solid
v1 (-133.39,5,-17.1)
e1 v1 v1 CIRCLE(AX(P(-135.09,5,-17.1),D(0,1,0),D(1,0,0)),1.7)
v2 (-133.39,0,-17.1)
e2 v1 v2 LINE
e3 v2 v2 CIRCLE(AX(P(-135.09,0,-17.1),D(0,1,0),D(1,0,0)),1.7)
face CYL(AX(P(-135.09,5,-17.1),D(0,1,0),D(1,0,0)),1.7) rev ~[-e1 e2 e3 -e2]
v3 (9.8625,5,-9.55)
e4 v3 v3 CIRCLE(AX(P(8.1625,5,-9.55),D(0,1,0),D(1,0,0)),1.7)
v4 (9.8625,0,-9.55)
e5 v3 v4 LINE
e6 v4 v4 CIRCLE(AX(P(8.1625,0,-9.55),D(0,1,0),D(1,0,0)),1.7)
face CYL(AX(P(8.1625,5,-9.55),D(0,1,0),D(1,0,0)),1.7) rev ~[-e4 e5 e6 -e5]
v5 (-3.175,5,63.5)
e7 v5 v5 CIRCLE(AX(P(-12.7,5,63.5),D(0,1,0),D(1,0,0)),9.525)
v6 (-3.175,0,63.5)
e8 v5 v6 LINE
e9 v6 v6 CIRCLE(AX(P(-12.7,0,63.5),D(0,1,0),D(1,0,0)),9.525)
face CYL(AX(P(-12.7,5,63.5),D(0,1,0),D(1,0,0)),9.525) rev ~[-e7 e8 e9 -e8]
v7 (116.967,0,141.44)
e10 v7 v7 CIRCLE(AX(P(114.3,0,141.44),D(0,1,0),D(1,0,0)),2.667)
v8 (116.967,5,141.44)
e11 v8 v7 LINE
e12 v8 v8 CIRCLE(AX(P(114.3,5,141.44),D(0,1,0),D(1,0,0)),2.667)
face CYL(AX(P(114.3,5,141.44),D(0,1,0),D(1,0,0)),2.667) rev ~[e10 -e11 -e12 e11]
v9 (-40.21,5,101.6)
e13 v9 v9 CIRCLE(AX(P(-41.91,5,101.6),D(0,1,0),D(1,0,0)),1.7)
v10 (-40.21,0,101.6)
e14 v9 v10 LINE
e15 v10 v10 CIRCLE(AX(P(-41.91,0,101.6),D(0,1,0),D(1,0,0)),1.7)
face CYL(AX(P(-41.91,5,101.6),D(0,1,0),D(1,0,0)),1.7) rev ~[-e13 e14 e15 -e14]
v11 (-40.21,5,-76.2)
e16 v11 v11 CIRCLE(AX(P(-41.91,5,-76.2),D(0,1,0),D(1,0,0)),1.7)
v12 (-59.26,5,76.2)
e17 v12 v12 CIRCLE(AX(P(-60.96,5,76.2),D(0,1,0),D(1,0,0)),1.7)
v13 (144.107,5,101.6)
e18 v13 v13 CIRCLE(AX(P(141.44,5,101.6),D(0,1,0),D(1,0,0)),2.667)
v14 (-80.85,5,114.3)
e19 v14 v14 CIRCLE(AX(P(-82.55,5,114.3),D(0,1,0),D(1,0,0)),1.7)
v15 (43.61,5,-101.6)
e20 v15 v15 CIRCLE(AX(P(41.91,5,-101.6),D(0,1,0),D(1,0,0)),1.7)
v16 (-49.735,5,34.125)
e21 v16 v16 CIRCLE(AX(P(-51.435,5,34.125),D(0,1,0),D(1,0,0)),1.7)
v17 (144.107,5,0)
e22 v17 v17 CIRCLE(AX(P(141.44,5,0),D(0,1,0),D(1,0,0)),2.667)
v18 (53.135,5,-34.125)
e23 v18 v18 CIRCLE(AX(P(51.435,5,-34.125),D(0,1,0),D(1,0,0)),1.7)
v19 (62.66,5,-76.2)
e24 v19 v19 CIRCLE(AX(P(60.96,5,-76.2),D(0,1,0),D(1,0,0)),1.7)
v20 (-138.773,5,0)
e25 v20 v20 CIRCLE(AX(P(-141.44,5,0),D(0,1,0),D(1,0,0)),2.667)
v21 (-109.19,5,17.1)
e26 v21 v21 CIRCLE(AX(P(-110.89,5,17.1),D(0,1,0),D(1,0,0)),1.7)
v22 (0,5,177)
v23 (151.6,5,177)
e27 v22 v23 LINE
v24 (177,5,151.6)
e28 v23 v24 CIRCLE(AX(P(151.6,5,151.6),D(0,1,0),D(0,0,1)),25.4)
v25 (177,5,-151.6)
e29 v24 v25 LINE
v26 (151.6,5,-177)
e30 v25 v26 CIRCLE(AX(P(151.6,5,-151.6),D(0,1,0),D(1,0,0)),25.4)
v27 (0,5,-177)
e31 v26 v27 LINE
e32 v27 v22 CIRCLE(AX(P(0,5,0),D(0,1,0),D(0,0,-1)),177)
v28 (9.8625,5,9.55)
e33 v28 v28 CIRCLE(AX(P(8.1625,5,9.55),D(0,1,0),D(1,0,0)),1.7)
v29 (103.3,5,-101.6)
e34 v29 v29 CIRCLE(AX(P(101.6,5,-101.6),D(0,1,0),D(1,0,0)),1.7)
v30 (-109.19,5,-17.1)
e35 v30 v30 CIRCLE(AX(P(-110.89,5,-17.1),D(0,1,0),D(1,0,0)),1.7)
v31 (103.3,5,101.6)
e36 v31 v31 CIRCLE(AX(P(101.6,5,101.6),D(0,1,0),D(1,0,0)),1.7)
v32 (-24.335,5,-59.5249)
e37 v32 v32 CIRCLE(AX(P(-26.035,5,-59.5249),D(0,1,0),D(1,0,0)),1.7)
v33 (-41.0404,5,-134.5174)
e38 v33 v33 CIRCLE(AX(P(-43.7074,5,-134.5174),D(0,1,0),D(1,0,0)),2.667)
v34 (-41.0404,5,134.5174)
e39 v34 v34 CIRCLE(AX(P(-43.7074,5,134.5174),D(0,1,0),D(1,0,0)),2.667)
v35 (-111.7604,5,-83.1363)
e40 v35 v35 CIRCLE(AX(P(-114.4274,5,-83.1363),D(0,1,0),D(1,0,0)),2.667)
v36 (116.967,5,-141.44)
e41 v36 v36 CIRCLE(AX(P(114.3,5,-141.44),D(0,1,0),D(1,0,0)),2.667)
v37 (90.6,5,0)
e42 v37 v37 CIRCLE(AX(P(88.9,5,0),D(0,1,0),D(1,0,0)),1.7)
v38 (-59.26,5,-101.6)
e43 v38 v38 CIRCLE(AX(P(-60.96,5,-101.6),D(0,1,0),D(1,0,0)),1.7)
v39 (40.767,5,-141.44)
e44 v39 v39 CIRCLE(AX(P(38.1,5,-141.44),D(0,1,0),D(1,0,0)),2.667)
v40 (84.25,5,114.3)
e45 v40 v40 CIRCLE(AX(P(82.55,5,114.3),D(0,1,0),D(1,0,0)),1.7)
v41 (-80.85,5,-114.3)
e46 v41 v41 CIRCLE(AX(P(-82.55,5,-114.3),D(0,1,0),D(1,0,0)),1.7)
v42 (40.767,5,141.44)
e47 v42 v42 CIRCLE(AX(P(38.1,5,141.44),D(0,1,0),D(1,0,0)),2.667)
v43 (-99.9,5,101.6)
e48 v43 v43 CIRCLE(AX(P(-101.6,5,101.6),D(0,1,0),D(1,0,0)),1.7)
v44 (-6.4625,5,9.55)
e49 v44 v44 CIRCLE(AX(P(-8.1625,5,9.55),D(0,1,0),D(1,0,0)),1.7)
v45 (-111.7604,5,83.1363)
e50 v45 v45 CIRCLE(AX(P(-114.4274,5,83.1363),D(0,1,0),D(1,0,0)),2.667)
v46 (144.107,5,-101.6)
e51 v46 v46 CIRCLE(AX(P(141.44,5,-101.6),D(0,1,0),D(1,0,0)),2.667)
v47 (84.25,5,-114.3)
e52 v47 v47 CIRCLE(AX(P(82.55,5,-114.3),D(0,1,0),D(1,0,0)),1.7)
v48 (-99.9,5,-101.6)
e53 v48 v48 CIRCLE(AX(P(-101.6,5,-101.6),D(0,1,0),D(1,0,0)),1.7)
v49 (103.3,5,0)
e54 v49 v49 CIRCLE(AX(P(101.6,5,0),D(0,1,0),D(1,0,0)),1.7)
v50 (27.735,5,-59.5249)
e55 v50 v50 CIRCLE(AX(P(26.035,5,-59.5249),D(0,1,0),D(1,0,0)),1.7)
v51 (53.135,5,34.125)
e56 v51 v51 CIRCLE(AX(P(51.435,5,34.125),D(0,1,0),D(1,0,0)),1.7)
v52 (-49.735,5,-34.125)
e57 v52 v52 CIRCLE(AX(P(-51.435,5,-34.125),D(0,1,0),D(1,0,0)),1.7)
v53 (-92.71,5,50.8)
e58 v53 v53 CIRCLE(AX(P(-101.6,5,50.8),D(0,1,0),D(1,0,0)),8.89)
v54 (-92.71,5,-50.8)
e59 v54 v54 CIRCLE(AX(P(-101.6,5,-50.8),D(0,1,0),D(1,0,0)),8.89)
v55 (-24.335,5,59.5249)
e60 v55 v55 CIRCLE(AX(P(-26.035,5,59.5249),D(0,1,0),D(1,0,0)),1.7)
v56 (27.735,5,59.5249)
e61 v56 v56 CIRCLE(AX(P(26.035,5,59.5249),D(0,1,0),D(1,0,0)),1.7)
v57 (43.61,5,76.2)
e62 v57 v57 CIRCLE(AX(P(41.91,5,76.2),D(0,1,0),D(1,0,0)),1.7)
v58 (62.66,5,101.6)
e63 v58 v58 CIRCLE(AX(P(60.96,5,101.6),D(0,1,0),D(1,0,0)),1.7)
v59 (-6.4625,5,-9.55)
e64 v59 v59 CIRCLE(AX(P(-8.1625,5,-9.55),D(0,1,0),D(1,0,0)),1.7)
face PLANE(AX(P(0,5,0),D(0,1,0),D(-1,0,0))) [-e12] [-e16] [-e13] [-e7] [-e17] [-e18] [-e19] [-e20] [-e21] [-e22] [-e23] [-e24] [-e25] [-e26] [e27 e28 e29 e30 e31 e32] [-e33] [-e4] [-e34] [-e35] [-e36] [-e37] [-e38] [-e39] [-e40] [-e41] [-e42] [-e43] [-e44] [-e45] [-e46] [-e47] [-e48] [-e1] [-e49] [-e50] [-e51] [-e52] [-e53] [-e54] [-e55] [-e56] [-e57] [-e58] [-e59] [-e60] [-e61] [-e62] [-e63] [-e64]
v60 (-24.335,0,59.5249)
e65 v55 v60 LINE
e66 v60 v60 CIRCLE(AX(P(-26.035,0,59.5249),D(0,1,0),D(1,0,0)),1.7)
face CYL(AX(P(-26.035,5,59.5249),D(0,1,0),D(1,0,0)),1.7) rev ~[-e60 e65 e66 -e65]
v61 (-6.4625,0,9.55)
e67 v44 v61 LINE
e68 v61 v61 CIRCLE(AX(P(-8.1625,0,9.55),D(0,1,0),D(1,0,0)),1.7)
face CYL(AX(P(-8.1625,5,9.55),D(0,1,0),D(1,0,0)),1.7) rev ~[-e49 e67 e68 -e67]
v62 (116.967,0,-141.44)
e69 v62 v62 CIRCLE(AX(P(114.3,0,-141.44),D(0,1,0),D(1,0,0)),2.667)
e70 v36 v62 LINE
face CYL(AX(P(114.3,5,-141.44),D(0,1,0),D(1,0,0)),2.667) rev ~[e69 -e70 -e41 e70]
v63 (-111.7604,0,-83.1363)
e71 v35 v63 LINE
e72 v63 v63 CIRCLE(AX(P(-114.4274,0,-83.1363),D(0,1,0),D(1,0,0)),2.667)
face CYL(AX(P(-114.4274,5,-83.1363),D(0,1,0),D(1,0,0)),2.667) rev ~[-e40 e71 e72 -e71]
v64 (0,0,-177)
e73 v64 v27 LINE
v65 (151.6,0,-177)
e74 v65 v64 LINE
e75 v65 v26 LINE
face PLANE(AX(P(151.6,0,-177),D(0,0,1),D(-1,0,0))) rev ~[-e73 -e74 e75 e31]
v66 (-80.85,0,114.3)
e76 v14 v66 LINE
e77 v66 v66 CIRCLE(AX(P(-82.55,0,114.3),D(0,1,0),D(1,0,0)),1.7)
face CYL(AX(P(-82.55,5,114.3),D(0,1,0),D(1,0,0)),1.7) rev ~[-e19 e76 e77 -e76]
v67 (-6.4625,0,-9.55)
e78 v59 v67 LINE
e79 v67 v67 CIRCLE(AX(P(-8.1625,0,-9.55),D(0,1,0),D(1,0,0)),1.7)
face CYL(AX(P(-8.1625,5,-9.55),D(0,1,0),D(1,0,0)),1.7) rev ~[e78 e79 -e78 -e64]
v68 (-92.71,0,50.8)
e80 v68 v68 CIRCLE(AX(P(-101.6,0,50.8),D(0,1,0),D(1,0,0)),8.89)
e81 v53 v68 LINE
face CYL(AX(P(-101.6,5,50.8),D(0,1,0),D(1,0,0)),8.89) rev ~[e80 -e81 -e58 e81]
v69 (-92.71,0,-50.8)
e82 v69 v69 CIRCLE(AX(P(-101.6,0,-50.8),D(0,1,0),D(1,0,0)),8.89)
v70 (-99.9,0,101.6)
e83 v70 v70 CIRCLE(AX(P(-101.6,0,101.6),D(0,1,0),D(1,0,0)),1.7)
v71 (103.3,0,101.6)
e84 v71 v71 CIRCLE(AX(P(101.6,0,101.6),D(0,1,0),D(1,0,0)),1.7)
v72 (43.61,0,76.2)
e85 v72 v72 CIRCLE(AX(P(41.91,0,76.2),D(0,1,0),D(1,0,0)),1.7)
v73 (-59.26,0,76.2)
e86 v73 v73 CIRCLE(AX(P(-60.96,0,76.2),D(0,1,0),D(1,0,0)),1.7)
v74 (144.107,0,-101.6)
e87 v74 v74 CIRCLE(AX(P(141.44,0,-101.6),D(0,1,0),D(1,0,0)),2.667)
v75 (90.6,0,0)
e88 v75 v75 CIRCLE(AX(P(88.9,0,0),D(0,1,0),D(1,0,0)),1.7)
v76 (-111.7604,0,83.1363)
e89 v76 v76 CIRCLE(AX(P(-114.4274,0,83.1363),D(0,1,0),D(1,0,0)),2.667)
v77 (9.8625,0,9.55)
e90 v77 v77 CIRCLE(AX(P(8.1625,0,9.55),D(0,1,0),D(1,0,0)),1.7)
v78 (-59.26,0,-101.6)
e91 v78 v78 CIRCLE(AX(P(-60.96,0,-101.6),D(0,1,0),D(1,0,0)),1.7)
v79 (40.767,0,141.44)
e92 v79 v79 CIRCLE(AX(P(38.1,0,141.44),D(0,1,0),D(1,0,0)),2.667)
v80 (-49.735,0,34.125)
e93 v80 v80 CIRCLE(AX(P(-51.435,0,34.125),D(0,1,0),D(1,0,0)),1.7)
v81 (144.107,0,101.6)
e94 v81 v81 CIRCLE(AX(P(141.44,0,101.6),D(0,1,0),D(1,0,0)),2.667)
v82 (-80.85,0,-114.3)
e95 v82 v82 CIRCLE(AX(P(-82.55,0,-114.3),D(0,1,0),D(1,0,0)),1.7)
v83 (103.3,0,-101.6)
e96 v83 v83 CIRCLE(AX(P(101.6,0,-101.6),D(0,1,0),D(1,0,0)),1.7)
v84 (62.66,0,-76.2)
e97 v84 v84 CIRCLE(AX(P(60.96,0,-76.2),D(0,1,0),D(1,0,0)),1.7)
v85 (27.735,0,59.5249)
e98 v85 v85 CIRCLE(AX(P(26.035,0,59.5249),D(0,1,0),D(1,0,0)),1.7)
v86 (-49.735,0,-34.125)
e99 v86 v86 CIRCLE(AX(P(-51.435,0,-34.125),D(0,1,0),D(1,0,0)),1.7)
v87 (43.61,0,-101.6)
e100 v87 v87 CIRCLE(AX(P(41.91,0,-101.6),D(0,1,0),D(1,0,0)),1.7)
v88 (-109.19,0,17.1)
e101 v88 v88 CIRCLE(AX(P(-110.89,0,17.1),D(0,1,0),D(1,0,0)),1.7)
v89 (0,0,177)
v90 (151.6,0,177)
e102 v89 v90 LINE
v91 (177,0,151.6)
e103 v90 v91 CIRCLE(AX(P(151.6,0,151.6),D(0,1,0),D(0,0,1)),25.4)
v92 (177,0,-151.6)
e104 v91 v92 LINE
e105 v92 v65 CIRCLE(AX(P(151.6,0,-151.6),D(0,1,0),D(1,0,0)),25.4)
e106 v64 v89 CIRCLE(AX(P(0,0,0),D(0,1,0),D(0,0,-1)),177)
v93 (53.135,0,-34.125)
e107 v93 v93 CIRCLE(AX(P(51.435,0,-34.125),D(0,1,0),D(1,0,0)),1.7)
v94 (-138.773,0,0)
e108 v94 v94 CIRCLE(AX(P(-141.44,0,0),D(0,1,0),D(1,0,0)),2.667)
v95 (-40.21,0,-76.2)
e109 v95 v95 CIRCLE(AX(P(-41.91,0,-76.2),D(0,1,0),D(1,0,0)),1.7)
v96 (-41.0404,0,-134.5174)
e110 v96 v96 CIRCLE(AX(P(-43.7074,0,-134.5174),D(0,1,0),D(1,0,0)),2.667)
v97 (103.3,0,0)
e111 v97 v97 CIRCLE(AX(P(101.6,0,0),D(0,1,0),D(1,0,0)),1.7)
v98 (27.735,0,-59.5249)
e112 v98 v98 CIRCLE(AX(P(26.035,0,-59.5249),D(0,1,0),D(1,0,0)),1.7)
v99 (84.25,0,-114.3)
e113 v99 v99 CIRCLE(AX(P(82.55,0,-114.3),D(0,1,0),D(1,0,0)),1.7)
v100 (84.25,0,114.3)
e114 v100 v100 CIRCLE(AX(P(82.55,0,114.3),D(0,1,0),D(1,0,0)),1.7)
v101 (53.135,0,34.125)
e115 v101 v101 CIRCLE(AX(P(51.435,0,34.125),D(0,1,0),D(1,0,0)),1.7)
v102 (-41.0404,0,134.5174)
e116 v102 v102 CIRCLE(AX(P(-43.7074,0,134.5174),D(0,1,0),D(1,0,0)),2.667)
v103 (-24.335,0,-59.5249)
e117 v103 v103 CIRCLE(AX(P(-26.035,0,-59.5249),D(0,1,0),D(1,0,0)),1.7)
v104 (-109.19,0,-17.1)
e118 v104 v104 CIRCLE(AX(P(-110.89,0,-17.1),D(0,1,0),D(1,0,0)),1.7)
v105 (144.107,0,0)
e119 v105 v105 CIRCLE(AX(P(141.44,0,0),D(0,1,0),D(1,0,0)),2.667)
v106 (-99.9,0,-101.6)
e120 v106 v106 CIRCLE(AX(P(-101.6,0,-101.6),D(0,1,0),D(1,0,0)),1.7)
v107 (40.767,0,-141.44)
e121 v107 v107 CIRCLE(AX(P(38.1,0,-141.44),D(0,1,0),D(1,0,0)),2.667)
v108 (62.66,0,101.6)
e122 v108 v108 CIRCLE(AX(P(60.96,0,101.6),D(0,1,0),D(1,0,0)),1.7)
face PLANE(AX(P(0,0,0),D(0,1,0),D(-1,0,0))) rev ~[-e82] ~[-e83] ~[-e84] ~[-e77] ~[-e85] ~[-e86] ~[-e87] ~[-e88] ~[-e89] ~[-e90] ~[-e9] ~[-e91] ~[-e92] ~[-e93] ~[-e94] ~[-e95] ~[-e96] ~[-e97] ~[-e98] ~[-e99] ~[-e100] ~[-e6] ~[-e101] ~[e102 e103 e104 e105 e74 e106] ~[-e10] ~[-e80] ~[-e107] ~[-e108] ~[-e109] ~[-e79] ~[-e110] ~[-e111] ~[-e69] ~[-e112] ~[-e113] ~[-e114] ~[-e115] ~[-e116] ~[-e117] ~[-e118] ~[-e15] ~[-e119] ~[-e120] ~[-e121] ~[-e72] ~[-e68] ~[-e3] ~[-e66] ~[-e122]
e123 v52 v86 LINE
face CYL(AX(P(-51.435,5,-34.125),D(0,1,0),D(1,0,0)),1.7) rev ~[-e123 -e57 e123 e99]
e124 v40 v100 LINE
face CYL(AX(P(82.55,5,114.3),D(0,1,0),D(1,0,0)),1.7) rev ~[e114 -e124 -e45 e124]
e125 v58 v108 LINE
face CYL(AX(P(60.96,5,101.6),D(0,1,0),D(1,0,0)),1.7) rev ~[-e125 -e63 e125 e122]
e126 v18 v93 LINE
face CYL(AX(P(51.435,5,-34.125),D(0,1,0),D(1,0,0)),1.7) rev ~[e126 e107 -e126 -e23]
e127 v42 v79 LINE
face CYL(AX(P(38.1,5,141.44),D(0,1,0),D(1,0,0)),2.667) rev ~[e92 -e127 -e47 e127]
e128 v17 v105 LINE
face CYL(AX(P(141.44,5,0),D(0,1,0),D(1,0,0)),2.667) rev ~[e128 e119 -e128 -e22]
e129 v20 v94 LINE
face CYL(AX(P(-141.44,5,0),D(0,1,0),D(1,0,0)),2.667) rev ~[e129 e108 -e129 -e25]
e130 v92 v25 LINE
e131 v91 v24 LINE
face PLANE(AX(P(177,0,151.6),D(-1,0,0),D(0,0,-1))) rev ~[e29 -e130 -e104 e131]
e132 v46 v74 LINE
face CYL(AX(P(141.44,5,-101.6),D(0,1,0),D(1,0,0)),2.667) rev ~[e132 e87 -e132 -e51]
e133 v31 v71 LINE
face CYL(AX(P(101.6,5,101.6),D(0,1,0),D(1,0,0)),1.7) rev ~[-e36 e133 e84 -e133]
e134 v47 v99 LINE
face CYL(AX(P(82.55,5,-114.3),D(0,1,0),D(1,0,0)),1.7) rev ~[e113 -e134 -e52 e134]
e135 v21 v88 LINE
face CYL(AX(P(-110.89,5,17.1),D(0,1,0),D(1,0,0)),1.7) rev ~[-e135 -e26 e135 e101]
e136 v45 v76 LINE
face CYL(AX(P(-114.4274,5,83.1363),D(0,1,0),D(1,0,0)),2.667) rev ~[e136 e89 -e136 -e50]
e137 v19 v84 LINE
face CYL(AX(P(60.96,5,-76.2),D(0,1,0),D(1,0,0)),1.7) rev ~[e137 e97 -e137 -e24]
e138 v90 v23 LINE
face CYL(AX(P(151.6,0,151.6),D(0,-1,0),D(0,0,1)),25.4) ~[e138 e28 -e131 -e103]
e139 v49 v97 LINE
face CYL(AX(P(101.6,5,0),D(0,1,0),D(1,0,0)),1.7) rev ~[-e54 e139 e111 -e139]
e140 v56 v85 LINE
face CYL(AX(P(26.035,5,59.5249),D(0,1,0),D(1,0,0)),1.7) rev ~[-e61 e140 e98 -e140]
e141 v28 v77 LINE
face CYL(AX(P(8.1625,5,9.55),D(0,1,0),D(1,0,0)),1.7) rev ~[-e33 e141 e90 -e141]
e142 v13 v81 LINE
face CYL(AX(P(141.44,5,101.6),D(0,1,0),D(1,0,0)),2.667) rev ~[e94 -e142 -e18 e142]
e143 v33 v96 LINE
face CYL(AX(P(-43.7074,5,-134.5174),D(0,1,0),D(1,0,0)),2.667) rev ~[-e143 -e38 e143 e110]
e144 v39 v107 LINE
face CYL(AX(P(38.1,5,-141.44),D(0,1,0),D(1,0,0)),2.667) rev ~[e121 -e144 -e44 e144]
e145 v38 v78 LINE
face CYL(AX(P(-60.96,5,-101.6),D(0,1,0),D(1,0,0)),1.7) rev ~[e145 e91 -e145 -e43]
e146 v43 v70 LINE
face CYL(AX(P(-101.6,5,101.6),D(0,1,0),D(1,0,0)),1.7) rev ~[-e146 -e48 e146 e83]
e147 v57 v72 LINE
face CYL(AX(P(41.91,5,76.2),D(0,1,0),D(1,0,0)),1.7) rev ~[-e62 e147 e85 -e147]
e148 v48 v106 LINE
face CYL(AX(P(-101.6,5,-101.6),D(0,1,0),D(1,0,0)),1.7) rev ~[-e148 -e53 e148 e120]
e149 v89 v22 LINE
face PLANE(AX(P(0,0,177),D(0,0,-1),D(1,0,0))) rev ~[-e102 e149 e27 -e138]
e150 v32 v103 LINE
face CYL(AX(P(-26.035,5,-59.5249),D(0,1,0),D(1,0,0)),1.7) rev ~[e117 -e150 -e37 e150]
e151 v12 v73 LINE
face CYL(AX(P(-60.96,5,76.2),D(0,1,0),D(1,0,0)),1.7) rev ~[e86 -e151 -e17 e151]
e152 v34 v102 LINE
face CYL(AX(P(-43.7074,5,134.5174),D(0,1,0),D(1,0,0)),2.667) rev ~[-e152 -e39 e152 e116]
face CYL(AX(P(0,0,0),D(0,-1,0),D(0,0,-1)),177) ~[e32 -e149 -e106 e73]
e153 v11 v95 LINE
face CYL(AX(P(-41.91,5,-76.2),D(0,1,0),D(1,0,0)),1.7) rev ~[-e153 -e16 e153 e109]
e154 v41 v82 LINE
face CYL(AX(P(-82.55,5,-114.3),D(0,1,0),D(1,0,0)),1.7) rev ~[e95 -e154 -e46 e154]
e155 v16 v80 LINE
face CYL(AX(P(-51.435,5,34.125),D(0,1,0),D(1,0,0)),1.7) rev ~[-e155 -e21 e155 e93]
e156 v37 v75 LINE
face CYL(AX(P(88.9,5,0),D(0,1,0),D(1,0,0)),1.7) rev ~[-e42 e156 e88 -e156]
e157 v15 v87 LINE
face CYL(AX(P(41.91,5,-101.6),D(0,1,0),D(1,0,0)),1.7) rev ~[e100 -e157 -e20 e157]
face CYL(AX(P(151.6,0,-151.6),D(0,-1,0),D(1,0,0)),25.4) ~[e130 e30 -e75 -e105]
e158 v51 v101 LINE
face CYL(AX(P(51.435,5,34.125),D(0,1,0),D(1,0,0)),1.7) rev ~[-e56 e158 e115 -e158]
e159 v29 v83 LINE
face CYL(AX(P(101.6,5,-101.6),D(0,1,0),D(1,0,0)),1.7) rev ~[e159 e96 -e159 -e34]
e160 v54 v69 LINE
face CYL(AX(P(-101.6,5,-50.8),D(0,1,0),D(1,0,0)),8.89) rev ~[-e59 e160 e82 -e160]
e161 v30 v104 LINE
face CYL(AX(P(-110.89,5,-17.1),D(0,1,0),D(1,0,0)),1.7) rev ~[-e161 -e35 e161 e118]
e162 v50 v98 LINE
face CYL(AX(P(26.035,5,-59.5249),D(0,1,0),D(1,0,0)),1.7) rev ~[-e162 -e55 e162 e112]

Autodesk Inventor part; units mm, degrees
ref_plane "YZ Plane" through (0, 0, 0) normal (1, 0, 0) x (0, 1, 0)
ref_plane "XZ Plane" through (0, 0, 0) normal (0, 1, 0) x (-1, 0, 0)
ref_plane "XY Plane" through (0, 0, 0) normal (0, 0, 1) x (1, 0, 0)
sketch "Sketch1" plane through (0, 0, 0) normal (0, 1, 0) x (-1, 0, 0)
  arc A0 (0, -177) -> (0, 177) centre (0, 0) ccw
  line L0 (0, 177) -> (-151.6, 177)
  line L1 (-177, 151.6) -> (-177, -151.6)
  line L2 (-151.6, -177) -> (0, -177)
  arc A1 (-151.6, 177) -> (-177, 151.6) centre (-151.6, 151.6) ccw
  arc A2 (-177, -151.6) -> (-151.6, -177) centre (-151.6, -151.6) ccw
  point P0 (-177, 177)
  point P1 (-177, -177)
  dimension "d0" = 354
  dimension "d1" = 177
  dimension "d2" = 177
  dimension "d115" = 25.4
  dimension "d116" = 25.4
extrude "Extrusion1" add sketch "Sketch1" along normal blind 5
sketch "Sketch2" plane through (0, 5, 0) normal (0, 1, 0) x (1, 0, 0)
  circle A0 centre (-51.435, -34.125) radius 1.7
  circle A1 centre (-51.435, 34.125) radius 1.7
  circle A2 centre (51.435, 34.125) radius 1.7
  circle A3 centre (51.435, -34.125) radius 1.7
  line L0 (0, -177) -> (151.6, -177) construction
  line L1 (151.6, 177) -> (0, 177) construction
  line L2 (0, -177) -> (0, 177) construction
  arc A4 (0, 177) -> (0, -177) centre (0, 0) ccw construction
  line L3 (-177, 0) -> (177, 0) construction
  line L4 (177, -151.6) -> (177, 151.6) construction
  circle A5 centre (26.035, 59.5249) radius 1.7
  circle A6 centre (26.035, -59.5249) radius 1.7
  circle A7 centre (-26.035, 59.5249) radius 1.7
  circle A8 centre (-26.035, -59.5249) radius 1.7
  point P0 (177, -177)
  point P1 (177, 177)
  dimension "d5" = 3.4
  dimension "d6" = 3.4
  dimension "d8" = 3.4
  dimension "d10" = 3.4
  dimension "d12" = 68.25
  dimension "d13" = 68.25
  dimension "d14" = 102.87
  dimension "d15" = 102.87
  dimension "d18" = 51.435
  dimension "d19" = 51.435
  dimension "d20" = 34.125
  dimension "d21" = 34.125
  dimension "d153" = 3.4
  dimension "d155" = 3.4
  dimension "d157" = 3.4
  dimension "d159" = 3.4
  dimension "d161" = 52.07
  dimension "d162" = 26.035
  dimension "d163" = 52.07
  dimension "d164" = 26.035
  dimension "d165" = 119.0498
  dimension "d166" = 119.0498
  dimension "d167" = 59.5249
  dimension "d168" = 59.5249
extrude "Jetson Holes" cut sketch "Sketch2" against normal through all
sketch "Sketch3" plane through (0, 5, 0) normal (0, 1, 0) x (1, 0, 0)
  circle A0 centre (-12.7, -63.5) radius 9.525
  arc A1 (0, 177) -> (0, -177) centre (0, 0) ccw construction
  line L0 (177, -151.6) -> (177, 151.6) construction
  line L1 (151.6, 177) -> (0, 177) construction
  line L2 (0, -177) -> (151.6, -177) construction
  line L3 (0, 177) -> (0, -177) construction
  line L4 (177, 0) -> (-177, 0) construction
  point P0 (177, -177)
  point P1 (177, 177)
  dimension "d24" = 19.05
  dimension "d26" = 63.5
  dimension "d27" = 12.7
extrude "SPI_Holes" cut sketch "Sketch3" against normal through all
sketch "Sketch4" plane through (0, 5, 0) normal (0, 1, 0) x (1, 0, 0)
  circle A0 centre (-60.96, -76.2) radius 1.7
  circle A1 centre (60.96, -101.6) radius 1.7
  circle A2 centre (60.96, 76.2) radius 1.7
  circle A3 centre (-60.96, 101.6) radius 1.7
  line L0 (177, -151.6) -> (177, 151.6) construction
  line L1 (177, 0) -> (-177, 0) construction
  arc A4 (0, 177) -> (0, -177) centre (0, 0) ccw construction
  line L2 (151.6, 177) -> (0, 177) construction
  line L3 (0, -177) -> (151.6, -177) construction
  line L4 (0, -177) -> (0, 177) construction
  circle A5 centre (-12.7, -63.5) radius 9.525 construction
  circle A6 centre (-101.6, 50.8) radius 8.89
  circle A7 centre (-101.6, -50.8) radius 8.89
  circle A8 centre (41.91, -76.2) radius 1.7
  circle A9 centre (-41.91, -101.6) radius 1.7
  circle A10 centre (-41.91, 76.2) radius 1.7
  circle A11 centre (41.91, 101.6) radius 1.7
  point P0 (177, -177)
  point P1 (177, 177)
  dimension "d30" = 3.4
  dimension "d31" = 3.4
  dimension "d33" = 3.4
  dimension "d35" = 3.4
  dimension "d37" = 121.92
  dimension "d38" = 121.92
  dimension "d39" = 25.4
  dimension "d40" = 25.4
  dimension "d41" = 60.96
  dimension "d42" = 60.96
  dimension "d43" = 12.7
  dimension "d44" = 177.8
  dimension "d45" = 17.78
  dimension "d46" = 17.78
  dimension "d47" = 50.8
  dimension "d48" = 50.8
  dimension "d49" = 101.6
  dimension "d50" = 101.6
  dimension "d139" = 3.4
  dimension "d140" = 19.05
  dimension "d141" = 25.4
  dimension "d142" = 3.4
  dimension "d143" = 19.05
  dimension "d144" = 25.4
  dimension "d145" = 3.4
  dimension "d147" = 3.4
  dimension "d149" = 25.4
  dimension "d150" = 25.4
  dimension "d151" = 19.05
  dimension "d152" = 19.05
extrude "NiMH Holes" cut sketch "Sketch4" against normal through all
sketch "Sketch5" plane through (0, 5, 0) normal (0, 1, 0) x (1, 0, 0)
  circle A0 centre (-8.1625, 9.55) radius 1.7
  circle A1 centre (-8.1625, -9.55) radius 1.7
  circle A2 centre (8.1625, -9.55) radius 1.7
  circle A3 centre (8.1625, 9.55) radius 1.7
  arc A4 (0, 177) -> (0, -177) centre (0, 0) ccw construction
  line L0 (0, -177) -> (0, 177) construction
  line L1 (-177, 0) -> (177, 0)
  line L2 (177, -151.6) -> (177, 151.6) projected
  point P0 (177, -177)
  point P1 (177, 177)
  dimension "d53" = 3.4
  dimension "d54" = 3.4
  dimension "d56" = 3.4
  dimension "d58" = 3.4
  dimension "d60" = 16.325
  dimension "d61" = 16.325
  dimension "d62" = 19.1
  dimension "d63" = 19.1
  dimension "d64" = 8.1625
  dimension "d65" = 8.1625
  dimension "d66" = 9.55
  dimension "d67" = 9.55
extrude "IMU Holes" cut sketch "Sketch5" against normal through all
sketch "Sketch8" plane through (0, 5, 0) normal (0, 1, 0) x (1, 0, 0)
  circle A0 centre (-101.6, 101.6) radius 1.7
  circle A1 centre (-101.6, -101.6) radius 1.7
  circle A2 centre (101.6, -101.6) radius 1.7
  circle A3 centre (101.6, 101.6) radius 1.7
  line L0 (177, -151.6) -> (177, 151.6) construction
  line L1 (177, 0) -> (-177, 0) construction
  arc A4 (0, 177) -> (0, -177) centre (0, 0) ccw construction
  line L2 (151.6, 177) -> (0, 177) construction
  line L3 (0, -177) -> (151.6, -177) construction
  line L4 (0, 177) -> (0, -177) construction
  circle A5 centre (101.6, 0) radius 1.7
  point P0 (177, -177)
  point P1 (177, 177)
  dimension "d97" = 3.4
  dimension "d98" = 3.4
  dimension "d100" = 3.4
  dimension "d102" = 3.4
  dimension "d104" = 101.6
  dimension "d105" = 101.6
  dimension "d106" = 101.6
  dimension "d107" = 101.6
  dimension "d108" = 101.6
  dimension "d109" = 101.6
  dimension "d110" = 101.6
  dimension "d111" = 101.6
  dimension "d169" = 3.4
  dimension "d170" = 101.6
extrude "Level1 Standoffs" cut sketch "Sketch8" against normal through all
sketch "Sketch6" plane through (0, 5, 0) normal (0, 1, 0) x (1, 0, 0)
  circle A0 centre (-82.55, -114.3) radius 1.7
  circle A1 centre (-82.55, 114.3) radius 1.7
  circle A2 centre (82.55, 114.3) radius 1.7
  circle A3 centre (82.55, -114.3) radius 1.7
  arc A4 (0, 177) -> (0, -177) centre (0, 0) ccw construction
  line L0 (177, -151.6) -> (177, 151.6) construction
  line L1 (0, -177) -> (151.6, -177) construction
  line L2 (0, 178.2067) -> (0, -177) construction
  line L3 (-177, 0) -> (177, 0) construction
  point P0 (177, -177)
  point P1 (177, 177)
  dimension "d70" = 3.4
  dimension "d71" = 3.4
  dimension "d73" = 3.4
  dimension "d75" = 3.4
  dimension "d77" = 82.55
  dimension "d80" = 82.55
  dimension "d81" = 82.55
  dimension "d84" = 82.55
  dimension "d85" = 114.3
  dimension "d86" = 114.3
  dimension "d87" = 114.3
  dimension "d88" = 114.3
extrude "Level3 Standoffs" cut sketch "Sketch6" against normal through all
sketch "Sketch7" plane through (0, 5, 0) normal (0, 1, 0) x (1, 0, 0)
  line L0 (177, -151.6) -> (177, 151.6) construction
  line L1 (177, 0) -> (-177, 0) construction
  arc A0 (0, 177) -> (0, -177) centre (0, 0) ccw construction
  circle A1 centre (-141.44, 0) radius 2.667
  line L2 (0, 177) -> (0, -177) construction
  circle A2 centre (-114.4274, -83.1363) radius 2.667
  circle A3 centre (-114.4274, 83.1363) radius 2.667
  circle A4 centre (-43.7074, -134.5174) radius 2.667
  circle A5 centre (-43.7074, 134.5174) radius 2.667
  circle A6 centre (38.1, -141.44) radius 2.667
  line L3 (0, -177) -> (151.6, -177) projected
  circle A7 centre (114.3, -141.44) radius 2.667
  circle A8 centre (38.1, 141.44) radius 2.667
  circle A9 centre (114.3, 141.44) radius 2.667
  circle A10 centre (141.44, 101.6) radius 2.667
  circle A11 centre (141.44, 0) radius 2.667
  circle A12 centre (141.44, -101.6) radius 2.667
  arc A13 (151.6, -177) -> (177, -151.6) centre (151.6, -151.6) ccw construction
  line L4 (177, -151.6) -> (177, 151.6) construction
  line L5 (151.6, 177) -> (0, 177) construction
  point P0 (177, -177)
  point P1 (177, 177)
  point P2 (-177, 0)
  dimension "d91" = 5.334
  dimension "d92" = 35.56
  dimension "d95" = 144
  dimension "d114" = 5.334
  dimension "d117" = 35.56
  dimension "d118" = 5.334
  dimension "d119" = 5.334
  dimension "d120" = 5.334
  dimension "d121" = 5.334
  dimension "d122" = 5.334
  dimension "d123" = 5.334
  dimension "d124" = 35.56
  dimension "d125" = 35.56
  dimension "d126" = 35.56
  dimension "d127" = 35.56
  dimension "d128" = 35.56
  dimension "d129" = 35.56
  dimension "d130" = 38.1
  dimension "d132" = 38.1
  dimension "d133" = 101.6
  dimension "d134" = 101.6
  dimension "d135" = 76.2
  dimension "d136" = 76.2
extrude "Zip Ties" cut sketch "Sketch7" against normal through all
sketch "Sketch9" plane through (0, 5, 0) normal (0, 1, 0) x (1, 0, 0)
  circle A0 centre (-110.89, 17.1) radius 1.7
  circle A1 centre (-110.89, -17.1) radius 1.7
  circle A2 centre (-135.09, 17.1) radius 1.7
  line L0 (0, 0) -> (-177, 0) construction
  arc A3 (0, 177) -> (0, -177) centre (0, 0) ccw construction
  circle A4 centre (-141.44, 0) radius 2.667 construction
  dimension "d171" = 3.4
  dimension "d172" = 3.4
  dimension "d174" = 3.4
  dimension "d176" = 24.2
  dimension "d177" = 34.2
  dimension "d178" = 17.1
  dimension "d179" = 6.35
  dimension "d180" = 17.1
  dimension "d181" = 17.1
extrude "Mic_MCU_Case" cut sketch "Sketch9" against normal blind 25.4
sketch "Sketch10" plane through (0, 5, 0) normal (0, 1, 0) x (1, 0, 0)
  circle A0 centre (88.9, 0) radius 1.7
  point P0 (0, 0)
  dimension "d184" = 3.4
  dimension "d185" = 88.9
extrude "Extrusion10" cut sketch "Sketch10" against normal blind 25.4
equation "\"d0\" = robot_diameter"
equation "\"d1\" = 0.5 * robot_diameter"
equation "\"d2\" = d1"
equation "\"d3\" = hardboard_thickness"
equation "\"d5\" = m3_clearance"
equation "\"d6\" = d7"
equation "\"d8\" = d9"
equation "\"d10\" = d11"
equation "\"d13\" = d12"
equation "\"d19\" = d18"
equation "\"d20\" = d21"
equation "\"d21\" = 0.5 * d12"
equation "\"d153\" = d154"
equation "\"d155\" = d156"
equation "\"d157\" = d158"
equation "\"d159\" = d160"
equation "\"d162\" = 0.5 * d161"
equation "\"d163\" = d161"
equation "\"d164\" = d162"
equation "\"d166\" = d165"
equation "\"d167\" = 0.5 * d165"
equation "\"d168\" = d167"
equation "\"d30\" = m3_clearance"
equation "\"d31\" = d32"
equation "\"d33\" = d34"
equation "\"d35\" = d36"
equation "\"d38\" = d37"
equation "\"d40\" = d39"
equation "\"d41\" = 0.5 * d37"
equation "\"d42\" = 0.5 * d38"
equation "\"d46\" = d45"
equation "\"d48\" = d47"
equation "\"d50\" = d49"
equation "\"d139\" = m3_clearance"
equation "\"d141\" = d40"
equation "\"d142\" = m3_clearance"
equation "\"d144\" = d40"
equation "\"d145\" = d146"
equation "\"d147\" = d148"
equation "\"d149\" = d39"
equation "\"d150\" = d39"
equation "\"d152\" = d151"
equation "\"d53\" = m3_clearance"
equation "\"d54\" = d55"
equation "\"d56\" = d57"
equation "\"d58\" = d59"
equation "\"d61\" = d60"
equation "\"d63\" = d62"
equation "\"d64\" = 0.5 * d60"
equation "\"d65\" = d64"
equation "\"d66\" = 0.5 * d63"
equation "\"d67\" = d66"
equation "\"d97\" = m3_clearance"
equation "\"d98\" = d99"
equation "\"d100\" = d101"
equation "\"d102\" = d103"
equation "\"d106\" = d105"
equation "\"d107\" = d104"
equation "\"d108\" = d104"
equation "\"d109\" = d104"
equation "\"d110\" = d105"
equation "\"d111\" = d105"
equation "\"d169\" = m3_clearance"
equation "\"d70\" = m3_clearance"
equation "\"d71\" = d72"
equation "\"d73\" = d74"
equation "\"d75\" = d76"
equation "\"d80\" = d77"
equation "\"d81\" = d77"
equation "\"d84\" = d77"
equation "\"d86\" = d85"
equation "\"d87\" = d85"
equation "\"d88\" = d85"
equation "\"d117\" = d124"
equation "\"d124\" = d92"
equation "\"d125\" = d124"
equation "\"d126\" = d124"
equation "\"d127\" = d124"
equation "\"d128\" = d124"
equation "\"d129\" = d124"
equation "\"d132\" = d130"
equation "\"d171\" = m3_clearance"
equation "\"d172\" = d173"
equation "\"d174\" = d175"
equation "\"d178\" = 0.5 * d177"
equation "\"d180\" = d178"
equation "\"d181\" = d178"
equation "\"d184\" = m3_clearance"
equation "\"m3_heat_set_insert\" = 4"
equation "\"m3_clearance\" = 3.4"
equation "\"m3_heat_set_depth\" = 7"
equation "\"robot_diameter\" = 354"
equation "\"hardboard_thickness\" = 5"
equation "\"motor_centerline_height\" = 13"
equation "\"d7\" = 3.4"
equation "\"d9\" = 3.4"
equation "\"d11\" = 3.4"
equation "\"d154\" = 3.4"
equation "\"d156\" = 3.4"
equation "\"d158\" = 3.4"
equation "\"d160\" = 3.4"
equation "\"d32\" = 3.4"
equation "\"d34\" = 3.4"
equation "\"d36\" = 3.4"
equation "\"d146\" = 3.4"
equation "\"d148\" = 3.4"
equation "\"d55\" = 3.4"
equation "\"d57\" = 3.4"
equation "\"d59\" = 3.4"
equation "\"d99\" = 3.4"
equation "\"d101\" = 3.4"
equation "\"d103\" = 3.4"
equation "\"d72\" = 3.4"
equation "\"d74\" = 3.4"
equation "\"d76\" = 3.4"
equation "\"d173\" = 3.4"
equation "\"d175\" = 3.4"
properties part number "layer2_new"
